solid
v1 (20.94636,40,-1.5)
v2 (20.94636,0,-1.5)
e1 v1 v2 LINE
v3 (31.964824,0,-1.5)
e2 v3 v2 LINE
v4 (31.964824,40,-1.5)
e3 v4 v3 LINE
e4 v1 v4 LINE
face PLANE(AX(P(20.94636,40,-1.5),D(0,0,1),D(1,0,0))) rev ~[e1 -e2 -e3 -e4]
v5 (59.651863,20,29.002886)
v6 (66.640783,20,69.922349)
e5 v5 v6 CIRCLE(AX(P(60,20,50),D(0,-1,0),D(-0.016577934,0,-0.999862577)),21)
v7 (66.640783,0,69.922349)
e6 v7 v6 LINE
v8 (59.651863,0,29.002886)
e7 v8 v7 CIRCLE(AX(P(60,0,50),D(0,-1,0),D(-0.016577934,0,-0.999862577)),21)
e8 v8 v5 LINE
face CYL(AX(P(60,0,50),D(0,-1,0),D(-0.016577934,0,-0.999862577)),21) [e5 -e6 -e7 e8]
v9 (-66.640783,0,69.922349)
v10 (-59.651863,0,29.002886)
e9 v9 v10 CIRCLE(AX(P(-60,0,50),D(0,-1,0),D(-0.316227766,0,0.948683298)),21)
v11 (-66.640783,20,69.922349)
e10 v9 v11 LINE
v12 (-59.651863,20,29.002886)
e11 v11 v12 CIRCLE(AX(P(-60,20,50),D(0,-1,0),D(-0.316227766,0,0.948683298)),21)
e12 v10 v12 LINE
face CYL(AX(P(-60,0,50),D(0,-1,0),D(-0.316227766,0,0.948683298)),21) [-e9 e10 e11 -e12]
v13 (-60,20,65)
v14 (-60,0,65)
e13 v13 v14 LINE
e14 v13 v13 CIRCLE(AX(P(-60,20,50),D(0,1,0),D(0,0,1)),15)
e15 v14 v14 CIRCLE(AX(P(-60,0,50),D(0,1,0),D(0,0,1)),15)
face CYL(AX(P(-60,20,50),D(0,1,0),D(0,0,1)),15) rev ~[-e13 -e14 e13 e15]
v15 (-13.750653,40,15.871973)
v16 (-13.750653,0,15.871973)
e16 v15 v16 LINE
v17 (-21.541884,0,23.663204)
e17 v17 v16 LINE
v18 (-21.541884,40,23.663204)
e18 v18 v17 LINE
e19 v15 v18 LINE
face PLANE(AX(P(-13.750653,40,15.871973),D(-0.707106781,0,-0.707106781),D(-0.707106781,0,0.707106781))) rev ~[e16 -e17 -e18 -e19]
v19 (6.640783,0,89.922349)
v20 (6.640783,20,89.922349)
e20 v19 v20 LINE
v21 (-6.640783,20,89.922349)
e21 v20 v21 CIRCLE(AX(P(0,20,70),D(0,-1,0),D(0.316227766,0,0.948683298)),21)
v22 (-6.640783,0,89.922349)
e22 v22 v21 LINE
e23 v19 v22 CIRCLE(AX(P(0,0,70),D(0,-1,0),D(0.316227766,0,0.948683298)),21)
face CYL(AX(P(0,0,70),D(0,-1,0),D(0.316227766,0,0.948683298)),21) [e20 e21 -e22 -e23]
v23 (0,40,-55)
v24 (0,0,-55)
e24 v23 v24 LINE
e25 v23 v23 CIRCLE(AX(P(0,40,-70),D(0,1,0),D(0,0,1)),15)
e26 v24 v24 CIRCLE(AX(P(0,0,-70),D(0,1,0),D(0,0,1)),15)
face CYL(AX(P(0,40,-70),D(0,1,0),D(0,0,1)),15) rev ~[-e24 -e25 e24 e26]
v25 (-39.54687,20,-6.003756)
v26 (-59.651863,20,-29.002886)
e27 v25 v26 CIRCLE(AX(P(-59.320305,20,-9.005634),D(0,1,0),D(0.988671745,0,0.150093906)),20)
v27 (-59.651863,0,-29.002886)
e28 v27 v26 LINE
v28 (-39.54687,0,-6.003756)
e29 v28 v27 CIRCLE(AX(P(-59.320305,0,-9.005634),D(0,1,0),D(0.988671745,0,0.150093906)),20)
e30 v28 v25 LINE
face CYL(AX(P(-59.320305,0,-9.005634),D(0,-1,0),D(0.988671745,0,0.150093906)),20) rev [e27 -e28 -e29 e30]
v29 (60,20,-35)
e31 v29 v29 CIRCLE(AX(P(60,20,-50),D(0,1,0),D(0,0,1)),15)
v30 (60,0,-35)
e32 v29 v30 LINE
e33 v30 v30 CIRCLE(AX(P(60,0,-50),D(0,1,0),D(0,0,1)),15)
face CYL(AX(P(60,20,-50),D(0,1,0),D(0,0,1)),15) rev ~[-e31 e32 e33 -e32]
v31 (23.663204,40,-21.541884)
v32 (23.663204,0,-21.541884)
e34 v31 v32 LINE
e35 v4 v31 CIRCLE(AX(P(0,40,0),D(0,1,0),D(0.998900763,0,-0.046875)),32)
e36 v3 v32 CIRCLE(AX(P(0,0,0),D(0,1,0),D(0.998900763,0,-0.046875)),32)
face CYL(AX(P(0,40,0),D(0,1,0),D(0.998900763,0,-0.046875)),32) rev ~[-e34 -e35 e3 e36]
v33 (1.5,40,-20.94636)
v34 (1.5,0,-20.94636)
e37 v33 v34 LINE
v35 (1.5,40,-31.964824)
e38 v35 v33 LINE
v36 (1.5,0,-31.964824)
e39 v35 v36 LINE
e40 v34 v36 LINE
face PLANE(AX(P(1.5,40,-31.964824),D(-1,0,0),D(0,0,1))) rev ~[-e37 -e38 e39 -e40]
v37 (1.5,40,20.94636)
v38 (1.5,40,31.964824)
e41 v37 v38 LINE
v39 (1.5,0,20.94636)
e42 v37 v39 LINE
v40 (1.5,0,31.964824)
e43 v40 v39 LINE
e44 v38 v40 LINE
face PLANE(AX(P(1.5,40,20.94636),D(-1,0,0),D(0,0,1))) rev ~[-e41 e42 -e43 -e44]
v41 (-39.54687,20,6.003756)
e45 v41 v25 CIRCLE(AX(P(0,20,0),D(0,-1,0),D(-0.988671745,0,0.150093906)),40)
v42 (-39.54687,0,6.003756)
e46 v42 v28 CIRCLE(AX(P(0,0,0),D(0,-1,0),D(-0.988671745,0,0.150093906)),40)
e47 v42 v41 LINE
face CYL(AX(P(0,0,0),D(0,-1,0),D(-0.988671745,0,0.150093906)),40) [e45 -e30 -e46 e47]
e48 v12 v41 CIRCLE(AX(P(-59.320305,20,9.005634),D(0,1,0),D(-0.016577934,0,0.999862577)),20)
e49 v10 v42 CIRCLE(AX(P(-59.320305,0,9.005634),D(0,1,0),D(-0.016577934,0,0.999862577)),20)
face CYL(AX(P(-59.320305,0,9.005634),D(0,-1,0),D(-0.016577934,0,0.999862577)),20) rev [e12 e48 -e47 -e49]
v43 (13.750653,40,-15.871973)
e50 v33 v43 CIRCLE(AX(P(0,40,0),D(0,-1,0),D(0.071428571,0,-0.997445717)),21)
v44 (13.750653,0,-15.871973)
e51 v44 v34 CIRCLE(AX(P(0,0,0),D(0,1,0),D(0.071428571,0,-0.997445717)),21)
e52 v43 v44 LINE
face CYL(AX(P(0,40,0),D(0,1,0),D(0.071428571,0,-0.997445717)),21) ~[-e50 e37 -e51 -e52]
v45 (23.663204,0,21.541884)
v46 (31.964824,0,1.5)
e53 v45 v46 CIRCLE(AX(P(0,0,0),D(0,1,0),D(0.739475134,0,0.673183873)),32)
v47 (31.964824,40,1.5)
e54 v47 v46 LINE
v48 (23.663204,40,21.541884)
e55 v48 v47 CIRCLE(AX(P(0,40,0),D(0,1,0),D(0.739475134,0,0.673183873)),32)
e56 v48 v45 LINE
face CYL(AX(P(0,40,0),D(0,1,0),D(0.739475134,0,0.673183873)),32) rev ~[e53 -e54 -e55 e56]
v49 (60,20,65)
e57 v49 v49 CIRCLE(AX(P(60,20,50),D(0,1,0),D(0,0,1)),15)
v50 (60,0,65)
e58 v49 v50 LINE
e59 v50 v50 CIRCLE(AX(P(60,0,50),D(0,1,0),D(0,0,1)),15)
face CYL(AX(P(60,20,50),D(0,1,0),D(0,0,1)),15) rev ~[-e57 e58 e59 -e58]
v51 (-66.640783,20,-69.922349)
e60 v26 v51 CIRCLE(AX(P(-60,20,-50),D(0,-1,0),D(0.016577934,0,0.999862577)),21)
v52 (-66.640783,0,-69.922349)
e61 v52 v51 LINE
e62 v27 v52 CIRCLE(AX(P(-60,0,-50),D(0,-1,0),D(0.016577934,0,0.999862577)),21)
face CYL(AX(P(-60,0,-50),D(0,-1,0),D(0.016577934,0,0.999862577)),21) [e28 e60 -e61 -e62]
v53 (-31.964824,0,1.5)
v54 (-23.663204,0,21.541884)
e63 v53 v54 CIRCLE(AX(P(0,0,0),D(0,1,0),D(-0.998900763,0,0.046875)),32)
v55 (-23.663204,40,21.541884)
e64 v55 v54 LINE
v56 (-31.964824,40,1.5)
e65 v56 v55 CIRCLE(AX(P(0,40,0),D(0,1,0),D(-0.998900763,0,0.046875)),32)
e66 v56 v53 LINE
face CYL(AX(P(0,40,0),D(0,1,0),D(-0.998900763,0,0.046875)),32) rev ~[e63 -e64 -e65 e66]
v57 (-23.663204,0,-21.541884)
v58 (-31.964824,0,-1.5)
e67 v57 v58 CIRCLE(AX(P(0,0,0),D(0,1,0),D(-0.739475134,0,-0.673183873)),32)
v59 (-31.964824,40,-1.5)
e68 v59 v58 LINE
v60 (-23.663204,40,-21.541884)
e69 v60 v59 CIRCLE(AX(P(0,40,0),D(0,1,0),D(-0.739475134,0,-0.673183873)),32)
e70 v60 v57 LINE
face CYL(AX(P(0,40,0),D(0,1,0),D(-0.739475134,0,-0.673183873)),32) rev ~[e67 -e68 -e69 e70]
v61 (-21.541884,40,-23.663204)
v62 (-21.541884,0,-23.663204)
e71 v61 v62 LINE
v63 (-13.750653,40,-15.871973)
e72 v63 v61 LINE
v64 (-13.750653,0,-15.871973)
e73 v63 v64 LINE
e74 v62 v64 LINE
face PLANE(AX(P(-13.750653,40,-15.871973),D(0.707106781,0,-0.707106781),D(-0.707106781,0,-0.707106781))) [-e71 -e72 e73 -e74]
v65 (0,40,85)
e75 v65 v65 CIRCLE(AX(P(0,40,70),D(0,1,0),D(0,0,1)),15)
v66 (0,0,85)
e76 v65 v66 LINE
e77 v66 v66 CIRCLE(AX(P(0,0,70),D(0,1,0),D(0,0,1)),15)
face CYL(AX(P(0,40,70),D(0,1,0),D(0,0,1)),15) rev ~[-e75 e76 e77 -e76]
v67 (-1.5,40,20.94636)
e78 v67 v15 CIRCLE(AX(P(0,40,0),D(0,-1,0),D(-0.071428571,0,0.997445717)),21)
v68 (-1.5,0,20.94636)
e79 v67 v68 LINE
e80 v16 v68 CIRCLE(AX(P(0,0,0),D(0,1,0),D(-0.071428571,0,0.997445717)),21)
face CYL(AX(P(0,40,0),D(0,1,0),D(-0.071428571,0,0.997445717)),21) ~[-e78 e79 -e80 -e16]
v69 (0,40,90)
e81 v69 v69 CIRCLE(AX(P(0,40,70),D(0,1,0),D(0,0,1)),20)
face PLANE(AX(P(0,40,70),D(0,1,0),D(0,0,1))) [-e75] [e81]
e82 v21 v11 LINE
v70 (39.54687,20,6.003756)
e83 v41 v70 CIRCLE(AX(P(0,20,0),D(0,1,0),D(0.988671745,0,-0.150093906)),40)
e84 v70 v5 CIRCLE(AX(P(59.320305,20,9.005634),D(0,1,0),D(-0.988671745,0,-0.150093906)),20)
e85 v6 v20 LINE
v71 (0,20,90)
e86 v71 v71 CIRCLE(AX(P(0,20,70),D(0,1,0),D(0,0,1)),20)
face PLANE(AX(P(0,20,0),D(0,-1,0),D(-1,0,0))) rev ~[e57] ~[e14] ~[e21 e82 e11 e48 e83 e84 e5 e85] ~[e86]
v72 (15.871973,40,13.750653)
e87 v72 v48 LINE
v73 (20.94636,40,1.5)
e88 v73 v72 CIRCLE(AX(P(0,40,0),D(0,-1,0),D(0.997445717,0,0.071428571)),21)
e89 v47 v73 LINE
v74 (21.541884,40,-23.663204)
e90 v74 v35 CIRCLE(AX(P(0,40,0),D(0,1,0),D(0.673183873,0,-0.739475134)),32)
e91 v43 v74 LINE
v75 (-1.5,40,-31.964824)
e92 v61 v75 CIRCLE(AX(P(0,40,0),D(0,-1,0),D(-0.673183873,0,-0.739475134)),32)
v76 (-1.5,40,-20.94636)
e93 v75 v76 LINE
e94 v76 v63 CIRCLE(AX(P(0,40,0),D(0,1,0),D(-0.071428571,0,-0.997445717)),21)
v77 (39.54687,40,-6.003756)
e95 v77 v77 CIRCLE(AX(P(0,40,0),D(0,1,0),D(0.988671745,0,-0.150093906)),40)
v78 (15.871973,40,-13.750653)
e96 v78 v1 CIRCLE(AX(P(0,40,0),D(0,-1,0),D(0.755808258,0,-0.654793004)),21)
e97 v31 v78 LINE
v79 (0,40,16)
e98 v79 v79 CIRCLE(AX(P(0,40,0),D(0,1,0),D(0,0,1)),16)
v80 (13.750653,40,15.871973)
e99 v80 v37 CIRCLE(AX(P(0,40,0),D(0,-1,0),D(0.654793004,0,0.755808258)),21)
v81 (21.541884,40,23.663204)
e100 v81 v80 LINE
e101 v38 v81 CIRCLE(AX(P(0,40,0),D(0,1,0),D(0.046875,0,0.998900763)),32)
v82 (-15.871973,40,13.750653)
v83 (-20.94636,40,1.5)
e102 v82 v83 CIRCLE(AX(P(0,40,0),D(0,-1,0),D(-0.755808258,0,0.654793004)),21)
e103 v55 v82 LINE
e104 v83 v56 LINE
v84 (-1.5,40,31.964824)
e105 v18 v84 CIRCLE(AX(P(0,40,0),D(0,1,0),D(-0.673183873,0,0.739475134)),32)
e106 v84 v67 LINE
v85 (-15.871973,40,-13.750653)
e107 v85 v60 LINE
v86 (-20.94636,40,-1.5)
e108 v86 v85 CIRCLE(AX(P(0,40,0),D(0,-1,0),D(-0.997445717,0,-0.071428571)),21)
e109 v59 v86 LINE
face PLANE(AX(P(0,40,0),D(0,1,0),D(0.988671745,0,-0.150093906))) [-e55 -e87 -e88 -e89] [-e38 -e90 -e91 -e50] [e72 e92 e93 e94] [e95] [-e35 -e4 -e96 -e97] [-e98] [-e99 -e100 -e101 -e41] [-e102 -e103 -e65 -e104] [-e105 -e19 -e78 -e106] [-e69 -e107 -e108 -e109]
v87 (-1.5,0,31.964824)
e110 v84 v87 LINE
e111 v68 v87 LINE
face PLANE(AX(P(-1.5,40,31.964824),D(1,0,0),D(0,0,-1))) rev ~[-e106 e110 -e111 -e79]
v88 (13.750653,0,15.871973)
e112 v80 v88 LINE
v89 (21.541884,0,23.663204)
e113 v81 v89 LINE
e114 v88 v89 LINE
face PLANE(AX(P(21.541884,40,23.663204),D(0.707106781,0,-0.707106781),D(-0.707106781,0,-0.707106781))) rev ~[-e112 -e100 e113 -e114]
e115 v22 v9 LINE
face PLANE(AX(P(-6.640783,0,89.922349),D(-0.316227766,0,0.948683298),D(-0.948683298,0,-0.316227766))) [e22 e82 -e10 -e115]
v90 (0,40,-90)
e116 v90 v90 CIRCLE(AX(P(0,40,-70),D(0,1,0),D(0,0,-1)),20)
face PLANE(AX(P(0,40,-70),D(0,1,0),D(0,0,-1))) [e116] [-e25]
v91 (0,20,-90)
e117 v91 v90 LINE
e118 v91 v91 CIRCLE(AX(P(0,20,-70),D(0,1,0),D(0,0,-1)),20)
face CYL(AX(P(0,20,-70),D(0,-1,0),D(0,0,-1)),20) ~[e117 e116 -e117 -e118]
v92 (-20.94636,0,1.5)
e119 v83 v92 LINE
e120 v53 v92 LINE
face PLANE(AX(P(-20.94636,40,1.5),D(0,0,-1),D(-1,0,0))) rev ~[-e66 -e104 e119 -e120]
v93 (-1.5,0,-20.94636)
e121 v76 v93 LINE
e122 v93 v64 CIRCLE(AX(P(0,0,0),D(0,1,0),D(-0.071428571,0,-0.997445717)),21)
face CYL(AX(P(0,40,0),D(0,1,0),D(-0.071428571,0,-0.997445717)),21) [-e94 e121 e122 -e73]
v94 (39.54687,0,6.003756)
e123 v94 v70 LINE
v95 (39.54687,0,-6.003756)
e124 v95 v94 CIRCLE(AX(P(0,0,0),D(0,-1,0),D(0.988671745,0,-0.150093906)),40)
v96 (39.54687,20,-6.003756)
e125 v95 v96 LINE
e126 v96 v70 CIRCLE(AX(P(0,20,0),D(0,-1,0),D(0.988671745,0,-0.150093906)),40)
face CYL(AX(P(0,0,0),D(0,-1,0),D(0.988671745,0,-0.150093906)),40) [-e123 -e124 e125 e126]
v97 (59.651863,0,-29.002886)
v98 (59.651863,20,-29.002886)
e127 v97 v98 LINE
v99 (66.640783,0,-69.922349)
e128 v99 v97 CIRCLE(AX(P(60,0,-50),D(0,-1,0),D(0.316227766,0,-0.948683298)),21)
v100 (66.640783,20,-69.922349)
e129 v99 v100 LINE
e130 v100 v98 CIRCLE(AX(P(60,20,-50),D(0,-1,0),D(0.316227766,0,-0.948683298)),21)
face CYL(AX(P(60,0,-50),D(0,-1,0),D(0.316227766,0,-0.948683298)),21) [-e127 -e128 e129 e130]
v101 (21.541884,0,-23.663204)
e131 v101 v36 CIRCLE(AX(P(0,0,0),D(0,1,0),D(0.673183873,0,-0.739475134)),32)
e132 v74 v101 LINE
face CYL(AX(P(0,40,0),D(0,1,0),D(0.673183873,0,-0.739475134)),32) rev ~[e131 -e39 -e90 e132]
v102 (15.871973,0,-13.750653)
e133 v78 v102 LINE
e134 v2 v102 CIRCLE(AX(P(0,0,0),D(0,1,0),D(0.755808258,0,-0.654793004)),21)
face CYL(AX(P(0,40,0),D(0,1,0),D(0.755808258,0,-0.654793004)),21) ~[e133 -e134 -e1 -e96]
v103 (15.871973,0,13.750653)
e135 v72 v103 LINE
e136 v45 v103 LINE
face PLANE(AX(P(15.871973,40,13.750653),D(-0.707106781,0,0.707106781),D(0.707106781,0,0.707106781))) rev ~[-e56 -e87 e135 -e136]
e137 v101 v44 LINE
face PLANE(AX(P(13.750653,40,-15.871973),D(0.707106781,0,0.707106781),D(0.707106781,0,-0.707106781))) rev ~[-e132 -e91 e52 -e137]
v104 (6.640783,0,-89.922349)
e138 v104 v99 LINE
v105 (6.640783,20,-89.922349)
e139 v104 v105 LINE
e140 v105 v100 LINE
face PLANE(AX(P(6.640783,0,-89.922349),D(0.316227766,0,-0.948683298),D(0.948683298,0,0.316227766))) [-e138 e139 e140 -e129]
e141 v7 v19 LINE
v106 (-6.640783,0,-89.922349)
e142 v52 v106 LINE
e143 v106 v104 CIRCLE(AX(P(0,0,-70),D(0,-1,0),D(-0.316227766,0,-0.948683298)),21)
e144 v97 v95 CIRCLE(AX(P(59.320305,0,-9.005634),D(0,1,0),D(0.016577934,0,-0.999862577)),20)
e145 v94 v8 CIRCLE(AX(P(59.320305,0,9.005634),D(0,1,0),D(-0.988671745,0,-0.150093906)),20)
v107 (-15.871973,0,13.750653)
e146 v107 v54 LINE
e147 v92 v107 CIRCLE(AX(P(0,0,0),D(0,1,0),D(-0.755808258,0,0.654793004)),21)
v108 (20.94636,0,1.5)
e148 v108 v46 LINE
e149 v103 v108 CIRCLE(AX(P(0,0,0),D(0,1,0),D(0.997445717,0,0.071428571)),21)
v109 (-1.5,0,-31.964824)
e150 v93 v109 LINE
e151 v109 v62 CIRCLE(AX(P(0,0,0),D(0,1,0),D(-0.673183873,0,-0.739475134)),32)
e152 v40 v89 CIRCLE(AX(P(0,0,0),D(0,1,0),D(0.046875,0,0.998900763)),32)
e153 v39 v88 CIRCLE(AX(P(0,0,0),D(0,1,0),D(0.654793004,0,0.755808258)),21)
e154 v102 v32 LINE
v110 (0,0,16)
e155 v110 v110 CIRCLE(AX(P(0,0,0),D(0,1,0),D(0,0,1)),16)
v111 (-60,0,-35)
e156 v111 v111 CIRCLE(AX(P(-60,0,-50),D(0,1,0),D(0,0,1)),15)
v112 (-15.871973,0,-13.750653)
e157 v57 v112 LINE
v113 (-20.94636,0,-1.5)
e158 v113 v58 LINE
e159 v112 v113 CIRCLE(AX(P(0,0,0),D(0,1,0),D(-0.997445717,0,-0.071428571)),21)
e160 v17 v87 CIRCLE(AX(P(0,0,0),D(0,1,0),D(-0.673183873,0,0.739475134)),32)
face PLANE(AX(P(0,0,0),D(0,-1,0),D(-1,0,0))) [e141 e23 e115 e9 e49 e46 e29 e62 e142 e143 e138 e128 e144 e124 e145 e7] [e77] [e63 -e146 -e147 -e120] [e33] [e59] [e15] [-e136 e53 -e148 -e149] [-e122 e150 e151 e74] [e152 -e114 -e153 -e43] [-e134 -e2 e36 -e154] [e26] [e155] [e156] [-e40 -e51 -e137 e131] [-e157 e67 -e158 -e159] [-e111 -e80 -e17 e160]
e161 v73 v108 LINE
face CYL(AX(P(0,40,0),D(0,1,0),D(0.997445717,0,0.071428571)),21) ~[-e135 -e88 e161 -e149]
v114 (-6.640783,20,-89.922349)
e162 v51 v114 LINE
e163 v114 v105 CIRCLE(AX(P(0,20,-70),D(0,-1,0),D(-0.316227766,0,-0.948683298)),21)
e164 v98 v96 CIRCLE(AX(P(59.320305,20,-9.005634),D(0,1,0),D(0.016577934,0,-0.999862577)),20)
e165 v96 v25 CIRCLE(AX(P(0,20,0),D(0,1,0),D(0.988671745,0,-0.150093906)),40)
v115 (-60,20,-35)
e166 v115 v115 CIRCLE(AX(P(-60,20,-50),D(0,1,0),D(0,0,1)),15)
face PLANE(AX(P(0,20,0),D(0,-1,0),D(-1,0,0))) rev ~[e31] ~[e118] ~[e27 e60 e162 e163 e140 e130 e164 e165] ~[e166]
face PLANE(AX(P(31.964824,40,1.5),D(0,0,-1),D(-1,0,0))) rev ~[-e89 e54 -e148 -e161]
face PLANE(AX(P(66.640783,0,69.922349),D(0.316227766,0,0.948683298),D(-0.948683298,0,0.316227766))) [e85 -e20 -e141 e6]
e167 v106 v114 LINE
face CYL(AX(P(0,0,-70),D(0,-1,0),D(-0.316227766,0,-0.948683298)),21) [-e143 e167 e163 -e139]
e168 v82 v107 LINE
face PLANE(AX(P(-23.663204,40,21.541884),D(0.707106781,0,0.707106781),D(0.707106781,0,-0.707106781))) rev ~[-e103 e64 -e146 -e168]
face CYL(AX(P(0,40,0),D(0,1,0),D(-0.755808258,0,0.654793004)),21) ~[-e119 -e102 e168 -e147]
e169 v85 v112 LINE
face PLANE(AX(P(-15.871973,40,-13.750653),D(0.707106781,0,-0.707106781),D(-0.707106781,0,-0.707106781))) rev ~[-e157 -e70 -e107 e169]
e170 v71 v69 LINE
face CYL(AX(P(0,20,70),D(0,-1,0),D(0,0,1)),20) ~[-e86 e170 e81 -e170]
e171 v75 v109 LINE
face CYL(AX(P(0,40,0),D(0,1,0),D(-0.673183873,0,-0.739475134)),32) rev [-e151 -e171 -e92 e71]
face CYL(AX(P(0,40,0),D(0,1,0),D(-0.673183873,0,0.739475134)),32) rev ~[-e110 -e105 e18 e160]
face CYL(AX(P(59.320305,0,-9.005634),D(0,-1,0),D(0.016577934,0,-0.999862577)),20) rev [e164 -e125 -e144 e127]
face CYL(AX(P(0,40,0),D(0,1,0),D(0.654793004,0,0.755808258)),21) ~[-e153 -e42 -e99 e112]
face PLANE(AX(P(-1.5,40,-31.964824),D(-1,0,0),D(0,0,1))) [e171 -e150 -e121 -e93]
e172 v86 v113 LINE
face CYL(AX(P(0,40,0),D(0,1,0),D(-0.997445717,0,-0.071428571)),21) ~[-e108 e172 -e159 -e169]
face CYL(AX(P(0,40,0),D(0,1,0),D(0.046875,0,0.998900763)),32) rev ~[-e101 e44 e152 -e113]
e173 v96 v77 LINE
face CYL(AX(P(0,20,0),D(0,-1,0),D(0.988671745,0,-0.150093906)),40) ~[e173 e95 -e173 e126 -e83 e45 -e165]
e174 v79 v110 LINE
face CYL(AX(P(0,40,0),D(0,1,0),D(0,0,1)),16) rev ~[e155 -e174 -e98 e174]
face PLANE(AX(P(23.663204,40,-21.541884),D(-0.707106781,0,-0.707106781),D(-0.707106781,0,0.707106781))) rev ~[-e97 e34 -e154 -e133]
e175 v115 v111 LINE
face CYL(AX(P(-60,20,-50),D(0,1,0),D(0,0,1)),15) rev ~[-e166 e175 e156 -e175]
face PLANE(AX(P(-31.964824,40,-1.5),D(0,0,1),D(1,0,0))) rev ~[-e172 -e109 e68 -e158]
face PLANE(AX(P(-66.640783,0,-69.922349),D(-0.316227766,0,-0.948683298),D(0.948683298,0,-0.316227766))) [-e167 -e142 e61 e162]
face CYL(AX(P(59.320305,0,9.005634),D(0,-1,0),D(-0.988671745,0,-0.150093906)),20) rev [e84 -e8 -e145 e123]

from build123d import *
from build123d.topology import SkipClean

# Parameters (mm, degrees)
BOSS_EXTRUDE2_DEPTH = 20
SKETCH2_R           = 40
SKETCH2_R_2         = 20
BOSS_EXTRUDE3_DEPTH = 20
SKETCH2_5_R         = 15
CUT_EXTRUDE1_DEPTH  = 20
SKETCH3_R           = 16
CUT_EXTRUDE2_DEPTH  = 129.226362344
SKETCH4_R           = 15
CUT_EXTRUDE3_DEPTH  = 129.226362344


with BuildPart() as part:
    # Sketch1 → Boss-Extrude2 (new body)
    with BuildSketch(Plane(origin=(0, 0, 0), x_dir=(1, 0, 0), z_dir=(0, 1, 0))):
        with BuildLine():
            Line((-66.640783086, 69.922349259), (-6.640783086, 89.922349259))
            ThreePointArc((-6.640783086, 89.922349259), (0, 91), (6.640783086, 89.922349259))
            Line((6.640783086, 89.922349259), (66.640783086, 69.922349259))
            ThreePointArc((66.640783086, 69.922349259), (80.700240831, 46.464461919), (59.651863383, 29.002885891))
            ThreePointArc((59.651863383, 29.002885891), (44.262528341, 22.168588856), (39.546869801, 6.003756239))
            ThreePointArc((39.546869801, 6.003756239), (40, 0), (39.546869801, -6.003756239))
            ThreePointArc((39.546869801, -6.003756239), (44.262528341, -22.168588856), (59.651863383, -29.002885891))
            ThreePointArc((59.651863383, -29.002885891), (80.700240831, -46.464461919), (66.640783086, -69.922349259))
            Line((66.640783086, -69.922349259), (6.640783086, -89.922349259))
            ThreePointArc((6.640783086, -89.922349259), (0, -91), (-6.640783086, -89.922349259))
            Line((-6.640783086, -89.922349259), (-66.640783086, -69.922349259))
            ThreePointArc((-66.640783086, -69.922349259), (-80.700240831, -46.464461919), (-59.651863383, -29.002885891))
            ThreePointArc((-59.651863383, -29.002885891), (-44.262528341, -22.168588856), (-39.546869801, -6.003756239))
            ThreePointArc((-39.546869801, -6.003756239), (-40, 0), (-39.546869801, 6.003756239))
            ThreePointArc((-39.546869801, 6.003756239), (-44.262528341, 22.168588856), (-59.651863383, 29.002885891))
            ThreePointArc((-59.651863383, 29.002885891), (-80.700240831, 46.464461919), (-66.640783086, 69.922349259))
        make_face()
    extrude(amount=BOSS_EXTRUDE2_DEPTH)

    # Sketch2 → Boss-Extrude3 (add)
    with SkipClean():  # the faces are left unmerged after this step: merging them gives an invalid solid
        with BuildSketch(Plane(origin=(0, 20, 0), x_dir=(1, 0, 0), z_dir=(0, 1, 0))):
            Circle(SKETCH2_R)
            with Locations((0, 70)):
                Circle(SKETCH2_R_2)
            with Locations((0, -70)):
                Circle(SKETCH2_R_2)
        extrude(amount=BOSS_EXTRUDE3_DEPTH)

    # Sketch2<5> → Cut-Extrude1 (cut)
    with SkipClean():  # the faces are left unmerged after this step: merging them gives an invalid solid
        with BuildSketch(Plane(origin=(0, 20, 0), x_dir=(1, 0, 0), z_dir=(0, 1, 0))):
            with Locations((60, 50)):
                Circle(SKETCH2_5_R)
            with Locations((-60, 50)):
                Circle(SKETCH2_5_R)
            with Locations((60, -50)):
                Circle(SKETCH2_5_R)
            with Locations((-60, -50)):
                Circle(SKETCH2_5_R)
        extrude(amount=-CUT_EXTRUDE1_DEPTH, mode=Mode.SUBTRACT)

    # Sketch3 → Cut-Extrude2 (cut, through all)
    with SkipClean():  # the faces are left unmerged after this step: merging them gives an invalid solid
        with BuildSketch(Plane(origin=(0, 40, 0), x_dir=(1, 0, 0), z_dir=(0, 1, 0))):
            Circle(SKETCH3_R)
            with BuildLine():
                Line((-1.5, 31.964824417), (-1.5, 20.946360066))
                ThreePointArc((-1.5, 20.946360066), (-8.03635208, 19.401470183), (-13.750653072, 15.871973415))
                Line((-13.750653072, 15.871973415), (-21.541883933, 23.663204276))
                ThreePointArc((-21.541883933, 23.663204276), (-12.245869836, 29.56414504), (-1.5, 31.964824417))
            make_face()
            with BuildLine():
                Line((1.5, 31.964824417), (1.5, 20.946360066))
                ThreePointArc((1.5, 20.946360066), (8.03635208, 19.401470183), (13.750653072, 15.871973415))
                Line((13.750653072, 15.871973415), (21.541883933, 23.663204276))
                ThreePointArc((21.541883933, 23.663204276), (12.245869836, 29.56414504), (1.5, 31.964824417))
            make_face()
            with BuildLine():
                Line((23.663204276, 21.541883933), (15.871973415, 13.750653072))
                ThreePointArc((15.871973415, 13.750653072), (19.401470183, 8.03635208), (20.946360066, 1.5))
                Line((20.946360066, 1.5), (31.964824417, 1.5))
                ThreePointArc((31.964824417, 1.5), (29.56414504, 12.245869836), (23.663204276, 21.541883933))
            make_face()
            with BuildLine():
                Line((31.964824417, -1.5), (20.946360066, -1.5))
                ThreePointArc((20.946360066, -1.5), (19.401470183, -8.03635208), (15.871973415, -13.750653072))
                Line((15.871973415, -13.750653072), (23.663204276, -21.541883933))
                ThreePointArc((23.663204276, -21.541883933), (29.56414504, -12.245869836), (31.964824417, -1.5))
            make_face()
            with BuildLine():
                Line((21.541883933, -23.663204276), (13.750653072, -15.871973415))
                ThreePointArc((13.750653072, -15.871973415), (8.03635208, -19.401470183), (1.5, -20.946360066))
                Line((1.5, -20.946360066), (1.5, -31.964824417))
                ThreePointArc((1.5, -31.964824417), (12.245869836, -29.56414504), (21.541883933, -23.663204276))
            make_face()
            with BuildLine():
                Line((-1.5, -31.964824417), (-1.5, -20.946360066))
                ThreePointArc((-1.5, -20.946360066), (-8.03635208, -19.401470183), (-13.750653072, -15.871973415))
                Line((-13.750653072, -15.871973415), (-21.541883933, -23.663204276))
                ThreePointArc((-21.541883933, -23.663204276), (-12.245869836, -29.56414504), (-1.5, -31.964824417))
            make_face()
            with BuildLine():
                Line((-23.663204276, -21.541883933), (-15.871973415, -13.750653072))
                ThreePointArc((-15.871973415, -13.750653072), (-19.401470183, -8.03635208), (-20.946360066, -1.5))
                Line((-20.946360066, -1.5), (-31.964824417, -1.5))
                ThreePointArc((-31.964824417, -1.5), (-29.56414504, -12.245869836), (-23.663204276, -21.541883933))
            make_face()
            with BuildLine():
                Line((-31.964824417, 1.5), (-20.946360066, 1.5))
                ThreePointArc((-20.946360066, 1.5), (-19.401470183, 8.03635208), (-15.871973415, 13.750653072))
                Line((-15.871973415, 13.750653072), (-23.663204276, 21.541883933))
                ThreePointArc((-23.663204276, 21.541883933), (-29.56414504, 12.245869836), (-31.964824417, 1.5))
            make_face()
        extrude(amount=-CUT_EXTRUDE2_DEPTH, mode=Mode.SUBTRACT)

    # Sketch4 → Cut-Extrude3 (cut, through all)
    with SkipClean():  # the faces are left unmerged after this step: merging them gives an invalid solid
        with BuildSketch(Plane(origin=(0, 40, 0), x_dir=(1, 0, 0), z_dir=(0, 1, 0))):
            with Locations((0, 70)):
                Circle(SKETCH4_R)
            with Locations((0, -70)):
                Circle(SKETCH4_R)
        extrude(amount=-CUT_EXTRUDE3_DEPTH, mode=Mode.SUBTRACT)


solid = part.part
